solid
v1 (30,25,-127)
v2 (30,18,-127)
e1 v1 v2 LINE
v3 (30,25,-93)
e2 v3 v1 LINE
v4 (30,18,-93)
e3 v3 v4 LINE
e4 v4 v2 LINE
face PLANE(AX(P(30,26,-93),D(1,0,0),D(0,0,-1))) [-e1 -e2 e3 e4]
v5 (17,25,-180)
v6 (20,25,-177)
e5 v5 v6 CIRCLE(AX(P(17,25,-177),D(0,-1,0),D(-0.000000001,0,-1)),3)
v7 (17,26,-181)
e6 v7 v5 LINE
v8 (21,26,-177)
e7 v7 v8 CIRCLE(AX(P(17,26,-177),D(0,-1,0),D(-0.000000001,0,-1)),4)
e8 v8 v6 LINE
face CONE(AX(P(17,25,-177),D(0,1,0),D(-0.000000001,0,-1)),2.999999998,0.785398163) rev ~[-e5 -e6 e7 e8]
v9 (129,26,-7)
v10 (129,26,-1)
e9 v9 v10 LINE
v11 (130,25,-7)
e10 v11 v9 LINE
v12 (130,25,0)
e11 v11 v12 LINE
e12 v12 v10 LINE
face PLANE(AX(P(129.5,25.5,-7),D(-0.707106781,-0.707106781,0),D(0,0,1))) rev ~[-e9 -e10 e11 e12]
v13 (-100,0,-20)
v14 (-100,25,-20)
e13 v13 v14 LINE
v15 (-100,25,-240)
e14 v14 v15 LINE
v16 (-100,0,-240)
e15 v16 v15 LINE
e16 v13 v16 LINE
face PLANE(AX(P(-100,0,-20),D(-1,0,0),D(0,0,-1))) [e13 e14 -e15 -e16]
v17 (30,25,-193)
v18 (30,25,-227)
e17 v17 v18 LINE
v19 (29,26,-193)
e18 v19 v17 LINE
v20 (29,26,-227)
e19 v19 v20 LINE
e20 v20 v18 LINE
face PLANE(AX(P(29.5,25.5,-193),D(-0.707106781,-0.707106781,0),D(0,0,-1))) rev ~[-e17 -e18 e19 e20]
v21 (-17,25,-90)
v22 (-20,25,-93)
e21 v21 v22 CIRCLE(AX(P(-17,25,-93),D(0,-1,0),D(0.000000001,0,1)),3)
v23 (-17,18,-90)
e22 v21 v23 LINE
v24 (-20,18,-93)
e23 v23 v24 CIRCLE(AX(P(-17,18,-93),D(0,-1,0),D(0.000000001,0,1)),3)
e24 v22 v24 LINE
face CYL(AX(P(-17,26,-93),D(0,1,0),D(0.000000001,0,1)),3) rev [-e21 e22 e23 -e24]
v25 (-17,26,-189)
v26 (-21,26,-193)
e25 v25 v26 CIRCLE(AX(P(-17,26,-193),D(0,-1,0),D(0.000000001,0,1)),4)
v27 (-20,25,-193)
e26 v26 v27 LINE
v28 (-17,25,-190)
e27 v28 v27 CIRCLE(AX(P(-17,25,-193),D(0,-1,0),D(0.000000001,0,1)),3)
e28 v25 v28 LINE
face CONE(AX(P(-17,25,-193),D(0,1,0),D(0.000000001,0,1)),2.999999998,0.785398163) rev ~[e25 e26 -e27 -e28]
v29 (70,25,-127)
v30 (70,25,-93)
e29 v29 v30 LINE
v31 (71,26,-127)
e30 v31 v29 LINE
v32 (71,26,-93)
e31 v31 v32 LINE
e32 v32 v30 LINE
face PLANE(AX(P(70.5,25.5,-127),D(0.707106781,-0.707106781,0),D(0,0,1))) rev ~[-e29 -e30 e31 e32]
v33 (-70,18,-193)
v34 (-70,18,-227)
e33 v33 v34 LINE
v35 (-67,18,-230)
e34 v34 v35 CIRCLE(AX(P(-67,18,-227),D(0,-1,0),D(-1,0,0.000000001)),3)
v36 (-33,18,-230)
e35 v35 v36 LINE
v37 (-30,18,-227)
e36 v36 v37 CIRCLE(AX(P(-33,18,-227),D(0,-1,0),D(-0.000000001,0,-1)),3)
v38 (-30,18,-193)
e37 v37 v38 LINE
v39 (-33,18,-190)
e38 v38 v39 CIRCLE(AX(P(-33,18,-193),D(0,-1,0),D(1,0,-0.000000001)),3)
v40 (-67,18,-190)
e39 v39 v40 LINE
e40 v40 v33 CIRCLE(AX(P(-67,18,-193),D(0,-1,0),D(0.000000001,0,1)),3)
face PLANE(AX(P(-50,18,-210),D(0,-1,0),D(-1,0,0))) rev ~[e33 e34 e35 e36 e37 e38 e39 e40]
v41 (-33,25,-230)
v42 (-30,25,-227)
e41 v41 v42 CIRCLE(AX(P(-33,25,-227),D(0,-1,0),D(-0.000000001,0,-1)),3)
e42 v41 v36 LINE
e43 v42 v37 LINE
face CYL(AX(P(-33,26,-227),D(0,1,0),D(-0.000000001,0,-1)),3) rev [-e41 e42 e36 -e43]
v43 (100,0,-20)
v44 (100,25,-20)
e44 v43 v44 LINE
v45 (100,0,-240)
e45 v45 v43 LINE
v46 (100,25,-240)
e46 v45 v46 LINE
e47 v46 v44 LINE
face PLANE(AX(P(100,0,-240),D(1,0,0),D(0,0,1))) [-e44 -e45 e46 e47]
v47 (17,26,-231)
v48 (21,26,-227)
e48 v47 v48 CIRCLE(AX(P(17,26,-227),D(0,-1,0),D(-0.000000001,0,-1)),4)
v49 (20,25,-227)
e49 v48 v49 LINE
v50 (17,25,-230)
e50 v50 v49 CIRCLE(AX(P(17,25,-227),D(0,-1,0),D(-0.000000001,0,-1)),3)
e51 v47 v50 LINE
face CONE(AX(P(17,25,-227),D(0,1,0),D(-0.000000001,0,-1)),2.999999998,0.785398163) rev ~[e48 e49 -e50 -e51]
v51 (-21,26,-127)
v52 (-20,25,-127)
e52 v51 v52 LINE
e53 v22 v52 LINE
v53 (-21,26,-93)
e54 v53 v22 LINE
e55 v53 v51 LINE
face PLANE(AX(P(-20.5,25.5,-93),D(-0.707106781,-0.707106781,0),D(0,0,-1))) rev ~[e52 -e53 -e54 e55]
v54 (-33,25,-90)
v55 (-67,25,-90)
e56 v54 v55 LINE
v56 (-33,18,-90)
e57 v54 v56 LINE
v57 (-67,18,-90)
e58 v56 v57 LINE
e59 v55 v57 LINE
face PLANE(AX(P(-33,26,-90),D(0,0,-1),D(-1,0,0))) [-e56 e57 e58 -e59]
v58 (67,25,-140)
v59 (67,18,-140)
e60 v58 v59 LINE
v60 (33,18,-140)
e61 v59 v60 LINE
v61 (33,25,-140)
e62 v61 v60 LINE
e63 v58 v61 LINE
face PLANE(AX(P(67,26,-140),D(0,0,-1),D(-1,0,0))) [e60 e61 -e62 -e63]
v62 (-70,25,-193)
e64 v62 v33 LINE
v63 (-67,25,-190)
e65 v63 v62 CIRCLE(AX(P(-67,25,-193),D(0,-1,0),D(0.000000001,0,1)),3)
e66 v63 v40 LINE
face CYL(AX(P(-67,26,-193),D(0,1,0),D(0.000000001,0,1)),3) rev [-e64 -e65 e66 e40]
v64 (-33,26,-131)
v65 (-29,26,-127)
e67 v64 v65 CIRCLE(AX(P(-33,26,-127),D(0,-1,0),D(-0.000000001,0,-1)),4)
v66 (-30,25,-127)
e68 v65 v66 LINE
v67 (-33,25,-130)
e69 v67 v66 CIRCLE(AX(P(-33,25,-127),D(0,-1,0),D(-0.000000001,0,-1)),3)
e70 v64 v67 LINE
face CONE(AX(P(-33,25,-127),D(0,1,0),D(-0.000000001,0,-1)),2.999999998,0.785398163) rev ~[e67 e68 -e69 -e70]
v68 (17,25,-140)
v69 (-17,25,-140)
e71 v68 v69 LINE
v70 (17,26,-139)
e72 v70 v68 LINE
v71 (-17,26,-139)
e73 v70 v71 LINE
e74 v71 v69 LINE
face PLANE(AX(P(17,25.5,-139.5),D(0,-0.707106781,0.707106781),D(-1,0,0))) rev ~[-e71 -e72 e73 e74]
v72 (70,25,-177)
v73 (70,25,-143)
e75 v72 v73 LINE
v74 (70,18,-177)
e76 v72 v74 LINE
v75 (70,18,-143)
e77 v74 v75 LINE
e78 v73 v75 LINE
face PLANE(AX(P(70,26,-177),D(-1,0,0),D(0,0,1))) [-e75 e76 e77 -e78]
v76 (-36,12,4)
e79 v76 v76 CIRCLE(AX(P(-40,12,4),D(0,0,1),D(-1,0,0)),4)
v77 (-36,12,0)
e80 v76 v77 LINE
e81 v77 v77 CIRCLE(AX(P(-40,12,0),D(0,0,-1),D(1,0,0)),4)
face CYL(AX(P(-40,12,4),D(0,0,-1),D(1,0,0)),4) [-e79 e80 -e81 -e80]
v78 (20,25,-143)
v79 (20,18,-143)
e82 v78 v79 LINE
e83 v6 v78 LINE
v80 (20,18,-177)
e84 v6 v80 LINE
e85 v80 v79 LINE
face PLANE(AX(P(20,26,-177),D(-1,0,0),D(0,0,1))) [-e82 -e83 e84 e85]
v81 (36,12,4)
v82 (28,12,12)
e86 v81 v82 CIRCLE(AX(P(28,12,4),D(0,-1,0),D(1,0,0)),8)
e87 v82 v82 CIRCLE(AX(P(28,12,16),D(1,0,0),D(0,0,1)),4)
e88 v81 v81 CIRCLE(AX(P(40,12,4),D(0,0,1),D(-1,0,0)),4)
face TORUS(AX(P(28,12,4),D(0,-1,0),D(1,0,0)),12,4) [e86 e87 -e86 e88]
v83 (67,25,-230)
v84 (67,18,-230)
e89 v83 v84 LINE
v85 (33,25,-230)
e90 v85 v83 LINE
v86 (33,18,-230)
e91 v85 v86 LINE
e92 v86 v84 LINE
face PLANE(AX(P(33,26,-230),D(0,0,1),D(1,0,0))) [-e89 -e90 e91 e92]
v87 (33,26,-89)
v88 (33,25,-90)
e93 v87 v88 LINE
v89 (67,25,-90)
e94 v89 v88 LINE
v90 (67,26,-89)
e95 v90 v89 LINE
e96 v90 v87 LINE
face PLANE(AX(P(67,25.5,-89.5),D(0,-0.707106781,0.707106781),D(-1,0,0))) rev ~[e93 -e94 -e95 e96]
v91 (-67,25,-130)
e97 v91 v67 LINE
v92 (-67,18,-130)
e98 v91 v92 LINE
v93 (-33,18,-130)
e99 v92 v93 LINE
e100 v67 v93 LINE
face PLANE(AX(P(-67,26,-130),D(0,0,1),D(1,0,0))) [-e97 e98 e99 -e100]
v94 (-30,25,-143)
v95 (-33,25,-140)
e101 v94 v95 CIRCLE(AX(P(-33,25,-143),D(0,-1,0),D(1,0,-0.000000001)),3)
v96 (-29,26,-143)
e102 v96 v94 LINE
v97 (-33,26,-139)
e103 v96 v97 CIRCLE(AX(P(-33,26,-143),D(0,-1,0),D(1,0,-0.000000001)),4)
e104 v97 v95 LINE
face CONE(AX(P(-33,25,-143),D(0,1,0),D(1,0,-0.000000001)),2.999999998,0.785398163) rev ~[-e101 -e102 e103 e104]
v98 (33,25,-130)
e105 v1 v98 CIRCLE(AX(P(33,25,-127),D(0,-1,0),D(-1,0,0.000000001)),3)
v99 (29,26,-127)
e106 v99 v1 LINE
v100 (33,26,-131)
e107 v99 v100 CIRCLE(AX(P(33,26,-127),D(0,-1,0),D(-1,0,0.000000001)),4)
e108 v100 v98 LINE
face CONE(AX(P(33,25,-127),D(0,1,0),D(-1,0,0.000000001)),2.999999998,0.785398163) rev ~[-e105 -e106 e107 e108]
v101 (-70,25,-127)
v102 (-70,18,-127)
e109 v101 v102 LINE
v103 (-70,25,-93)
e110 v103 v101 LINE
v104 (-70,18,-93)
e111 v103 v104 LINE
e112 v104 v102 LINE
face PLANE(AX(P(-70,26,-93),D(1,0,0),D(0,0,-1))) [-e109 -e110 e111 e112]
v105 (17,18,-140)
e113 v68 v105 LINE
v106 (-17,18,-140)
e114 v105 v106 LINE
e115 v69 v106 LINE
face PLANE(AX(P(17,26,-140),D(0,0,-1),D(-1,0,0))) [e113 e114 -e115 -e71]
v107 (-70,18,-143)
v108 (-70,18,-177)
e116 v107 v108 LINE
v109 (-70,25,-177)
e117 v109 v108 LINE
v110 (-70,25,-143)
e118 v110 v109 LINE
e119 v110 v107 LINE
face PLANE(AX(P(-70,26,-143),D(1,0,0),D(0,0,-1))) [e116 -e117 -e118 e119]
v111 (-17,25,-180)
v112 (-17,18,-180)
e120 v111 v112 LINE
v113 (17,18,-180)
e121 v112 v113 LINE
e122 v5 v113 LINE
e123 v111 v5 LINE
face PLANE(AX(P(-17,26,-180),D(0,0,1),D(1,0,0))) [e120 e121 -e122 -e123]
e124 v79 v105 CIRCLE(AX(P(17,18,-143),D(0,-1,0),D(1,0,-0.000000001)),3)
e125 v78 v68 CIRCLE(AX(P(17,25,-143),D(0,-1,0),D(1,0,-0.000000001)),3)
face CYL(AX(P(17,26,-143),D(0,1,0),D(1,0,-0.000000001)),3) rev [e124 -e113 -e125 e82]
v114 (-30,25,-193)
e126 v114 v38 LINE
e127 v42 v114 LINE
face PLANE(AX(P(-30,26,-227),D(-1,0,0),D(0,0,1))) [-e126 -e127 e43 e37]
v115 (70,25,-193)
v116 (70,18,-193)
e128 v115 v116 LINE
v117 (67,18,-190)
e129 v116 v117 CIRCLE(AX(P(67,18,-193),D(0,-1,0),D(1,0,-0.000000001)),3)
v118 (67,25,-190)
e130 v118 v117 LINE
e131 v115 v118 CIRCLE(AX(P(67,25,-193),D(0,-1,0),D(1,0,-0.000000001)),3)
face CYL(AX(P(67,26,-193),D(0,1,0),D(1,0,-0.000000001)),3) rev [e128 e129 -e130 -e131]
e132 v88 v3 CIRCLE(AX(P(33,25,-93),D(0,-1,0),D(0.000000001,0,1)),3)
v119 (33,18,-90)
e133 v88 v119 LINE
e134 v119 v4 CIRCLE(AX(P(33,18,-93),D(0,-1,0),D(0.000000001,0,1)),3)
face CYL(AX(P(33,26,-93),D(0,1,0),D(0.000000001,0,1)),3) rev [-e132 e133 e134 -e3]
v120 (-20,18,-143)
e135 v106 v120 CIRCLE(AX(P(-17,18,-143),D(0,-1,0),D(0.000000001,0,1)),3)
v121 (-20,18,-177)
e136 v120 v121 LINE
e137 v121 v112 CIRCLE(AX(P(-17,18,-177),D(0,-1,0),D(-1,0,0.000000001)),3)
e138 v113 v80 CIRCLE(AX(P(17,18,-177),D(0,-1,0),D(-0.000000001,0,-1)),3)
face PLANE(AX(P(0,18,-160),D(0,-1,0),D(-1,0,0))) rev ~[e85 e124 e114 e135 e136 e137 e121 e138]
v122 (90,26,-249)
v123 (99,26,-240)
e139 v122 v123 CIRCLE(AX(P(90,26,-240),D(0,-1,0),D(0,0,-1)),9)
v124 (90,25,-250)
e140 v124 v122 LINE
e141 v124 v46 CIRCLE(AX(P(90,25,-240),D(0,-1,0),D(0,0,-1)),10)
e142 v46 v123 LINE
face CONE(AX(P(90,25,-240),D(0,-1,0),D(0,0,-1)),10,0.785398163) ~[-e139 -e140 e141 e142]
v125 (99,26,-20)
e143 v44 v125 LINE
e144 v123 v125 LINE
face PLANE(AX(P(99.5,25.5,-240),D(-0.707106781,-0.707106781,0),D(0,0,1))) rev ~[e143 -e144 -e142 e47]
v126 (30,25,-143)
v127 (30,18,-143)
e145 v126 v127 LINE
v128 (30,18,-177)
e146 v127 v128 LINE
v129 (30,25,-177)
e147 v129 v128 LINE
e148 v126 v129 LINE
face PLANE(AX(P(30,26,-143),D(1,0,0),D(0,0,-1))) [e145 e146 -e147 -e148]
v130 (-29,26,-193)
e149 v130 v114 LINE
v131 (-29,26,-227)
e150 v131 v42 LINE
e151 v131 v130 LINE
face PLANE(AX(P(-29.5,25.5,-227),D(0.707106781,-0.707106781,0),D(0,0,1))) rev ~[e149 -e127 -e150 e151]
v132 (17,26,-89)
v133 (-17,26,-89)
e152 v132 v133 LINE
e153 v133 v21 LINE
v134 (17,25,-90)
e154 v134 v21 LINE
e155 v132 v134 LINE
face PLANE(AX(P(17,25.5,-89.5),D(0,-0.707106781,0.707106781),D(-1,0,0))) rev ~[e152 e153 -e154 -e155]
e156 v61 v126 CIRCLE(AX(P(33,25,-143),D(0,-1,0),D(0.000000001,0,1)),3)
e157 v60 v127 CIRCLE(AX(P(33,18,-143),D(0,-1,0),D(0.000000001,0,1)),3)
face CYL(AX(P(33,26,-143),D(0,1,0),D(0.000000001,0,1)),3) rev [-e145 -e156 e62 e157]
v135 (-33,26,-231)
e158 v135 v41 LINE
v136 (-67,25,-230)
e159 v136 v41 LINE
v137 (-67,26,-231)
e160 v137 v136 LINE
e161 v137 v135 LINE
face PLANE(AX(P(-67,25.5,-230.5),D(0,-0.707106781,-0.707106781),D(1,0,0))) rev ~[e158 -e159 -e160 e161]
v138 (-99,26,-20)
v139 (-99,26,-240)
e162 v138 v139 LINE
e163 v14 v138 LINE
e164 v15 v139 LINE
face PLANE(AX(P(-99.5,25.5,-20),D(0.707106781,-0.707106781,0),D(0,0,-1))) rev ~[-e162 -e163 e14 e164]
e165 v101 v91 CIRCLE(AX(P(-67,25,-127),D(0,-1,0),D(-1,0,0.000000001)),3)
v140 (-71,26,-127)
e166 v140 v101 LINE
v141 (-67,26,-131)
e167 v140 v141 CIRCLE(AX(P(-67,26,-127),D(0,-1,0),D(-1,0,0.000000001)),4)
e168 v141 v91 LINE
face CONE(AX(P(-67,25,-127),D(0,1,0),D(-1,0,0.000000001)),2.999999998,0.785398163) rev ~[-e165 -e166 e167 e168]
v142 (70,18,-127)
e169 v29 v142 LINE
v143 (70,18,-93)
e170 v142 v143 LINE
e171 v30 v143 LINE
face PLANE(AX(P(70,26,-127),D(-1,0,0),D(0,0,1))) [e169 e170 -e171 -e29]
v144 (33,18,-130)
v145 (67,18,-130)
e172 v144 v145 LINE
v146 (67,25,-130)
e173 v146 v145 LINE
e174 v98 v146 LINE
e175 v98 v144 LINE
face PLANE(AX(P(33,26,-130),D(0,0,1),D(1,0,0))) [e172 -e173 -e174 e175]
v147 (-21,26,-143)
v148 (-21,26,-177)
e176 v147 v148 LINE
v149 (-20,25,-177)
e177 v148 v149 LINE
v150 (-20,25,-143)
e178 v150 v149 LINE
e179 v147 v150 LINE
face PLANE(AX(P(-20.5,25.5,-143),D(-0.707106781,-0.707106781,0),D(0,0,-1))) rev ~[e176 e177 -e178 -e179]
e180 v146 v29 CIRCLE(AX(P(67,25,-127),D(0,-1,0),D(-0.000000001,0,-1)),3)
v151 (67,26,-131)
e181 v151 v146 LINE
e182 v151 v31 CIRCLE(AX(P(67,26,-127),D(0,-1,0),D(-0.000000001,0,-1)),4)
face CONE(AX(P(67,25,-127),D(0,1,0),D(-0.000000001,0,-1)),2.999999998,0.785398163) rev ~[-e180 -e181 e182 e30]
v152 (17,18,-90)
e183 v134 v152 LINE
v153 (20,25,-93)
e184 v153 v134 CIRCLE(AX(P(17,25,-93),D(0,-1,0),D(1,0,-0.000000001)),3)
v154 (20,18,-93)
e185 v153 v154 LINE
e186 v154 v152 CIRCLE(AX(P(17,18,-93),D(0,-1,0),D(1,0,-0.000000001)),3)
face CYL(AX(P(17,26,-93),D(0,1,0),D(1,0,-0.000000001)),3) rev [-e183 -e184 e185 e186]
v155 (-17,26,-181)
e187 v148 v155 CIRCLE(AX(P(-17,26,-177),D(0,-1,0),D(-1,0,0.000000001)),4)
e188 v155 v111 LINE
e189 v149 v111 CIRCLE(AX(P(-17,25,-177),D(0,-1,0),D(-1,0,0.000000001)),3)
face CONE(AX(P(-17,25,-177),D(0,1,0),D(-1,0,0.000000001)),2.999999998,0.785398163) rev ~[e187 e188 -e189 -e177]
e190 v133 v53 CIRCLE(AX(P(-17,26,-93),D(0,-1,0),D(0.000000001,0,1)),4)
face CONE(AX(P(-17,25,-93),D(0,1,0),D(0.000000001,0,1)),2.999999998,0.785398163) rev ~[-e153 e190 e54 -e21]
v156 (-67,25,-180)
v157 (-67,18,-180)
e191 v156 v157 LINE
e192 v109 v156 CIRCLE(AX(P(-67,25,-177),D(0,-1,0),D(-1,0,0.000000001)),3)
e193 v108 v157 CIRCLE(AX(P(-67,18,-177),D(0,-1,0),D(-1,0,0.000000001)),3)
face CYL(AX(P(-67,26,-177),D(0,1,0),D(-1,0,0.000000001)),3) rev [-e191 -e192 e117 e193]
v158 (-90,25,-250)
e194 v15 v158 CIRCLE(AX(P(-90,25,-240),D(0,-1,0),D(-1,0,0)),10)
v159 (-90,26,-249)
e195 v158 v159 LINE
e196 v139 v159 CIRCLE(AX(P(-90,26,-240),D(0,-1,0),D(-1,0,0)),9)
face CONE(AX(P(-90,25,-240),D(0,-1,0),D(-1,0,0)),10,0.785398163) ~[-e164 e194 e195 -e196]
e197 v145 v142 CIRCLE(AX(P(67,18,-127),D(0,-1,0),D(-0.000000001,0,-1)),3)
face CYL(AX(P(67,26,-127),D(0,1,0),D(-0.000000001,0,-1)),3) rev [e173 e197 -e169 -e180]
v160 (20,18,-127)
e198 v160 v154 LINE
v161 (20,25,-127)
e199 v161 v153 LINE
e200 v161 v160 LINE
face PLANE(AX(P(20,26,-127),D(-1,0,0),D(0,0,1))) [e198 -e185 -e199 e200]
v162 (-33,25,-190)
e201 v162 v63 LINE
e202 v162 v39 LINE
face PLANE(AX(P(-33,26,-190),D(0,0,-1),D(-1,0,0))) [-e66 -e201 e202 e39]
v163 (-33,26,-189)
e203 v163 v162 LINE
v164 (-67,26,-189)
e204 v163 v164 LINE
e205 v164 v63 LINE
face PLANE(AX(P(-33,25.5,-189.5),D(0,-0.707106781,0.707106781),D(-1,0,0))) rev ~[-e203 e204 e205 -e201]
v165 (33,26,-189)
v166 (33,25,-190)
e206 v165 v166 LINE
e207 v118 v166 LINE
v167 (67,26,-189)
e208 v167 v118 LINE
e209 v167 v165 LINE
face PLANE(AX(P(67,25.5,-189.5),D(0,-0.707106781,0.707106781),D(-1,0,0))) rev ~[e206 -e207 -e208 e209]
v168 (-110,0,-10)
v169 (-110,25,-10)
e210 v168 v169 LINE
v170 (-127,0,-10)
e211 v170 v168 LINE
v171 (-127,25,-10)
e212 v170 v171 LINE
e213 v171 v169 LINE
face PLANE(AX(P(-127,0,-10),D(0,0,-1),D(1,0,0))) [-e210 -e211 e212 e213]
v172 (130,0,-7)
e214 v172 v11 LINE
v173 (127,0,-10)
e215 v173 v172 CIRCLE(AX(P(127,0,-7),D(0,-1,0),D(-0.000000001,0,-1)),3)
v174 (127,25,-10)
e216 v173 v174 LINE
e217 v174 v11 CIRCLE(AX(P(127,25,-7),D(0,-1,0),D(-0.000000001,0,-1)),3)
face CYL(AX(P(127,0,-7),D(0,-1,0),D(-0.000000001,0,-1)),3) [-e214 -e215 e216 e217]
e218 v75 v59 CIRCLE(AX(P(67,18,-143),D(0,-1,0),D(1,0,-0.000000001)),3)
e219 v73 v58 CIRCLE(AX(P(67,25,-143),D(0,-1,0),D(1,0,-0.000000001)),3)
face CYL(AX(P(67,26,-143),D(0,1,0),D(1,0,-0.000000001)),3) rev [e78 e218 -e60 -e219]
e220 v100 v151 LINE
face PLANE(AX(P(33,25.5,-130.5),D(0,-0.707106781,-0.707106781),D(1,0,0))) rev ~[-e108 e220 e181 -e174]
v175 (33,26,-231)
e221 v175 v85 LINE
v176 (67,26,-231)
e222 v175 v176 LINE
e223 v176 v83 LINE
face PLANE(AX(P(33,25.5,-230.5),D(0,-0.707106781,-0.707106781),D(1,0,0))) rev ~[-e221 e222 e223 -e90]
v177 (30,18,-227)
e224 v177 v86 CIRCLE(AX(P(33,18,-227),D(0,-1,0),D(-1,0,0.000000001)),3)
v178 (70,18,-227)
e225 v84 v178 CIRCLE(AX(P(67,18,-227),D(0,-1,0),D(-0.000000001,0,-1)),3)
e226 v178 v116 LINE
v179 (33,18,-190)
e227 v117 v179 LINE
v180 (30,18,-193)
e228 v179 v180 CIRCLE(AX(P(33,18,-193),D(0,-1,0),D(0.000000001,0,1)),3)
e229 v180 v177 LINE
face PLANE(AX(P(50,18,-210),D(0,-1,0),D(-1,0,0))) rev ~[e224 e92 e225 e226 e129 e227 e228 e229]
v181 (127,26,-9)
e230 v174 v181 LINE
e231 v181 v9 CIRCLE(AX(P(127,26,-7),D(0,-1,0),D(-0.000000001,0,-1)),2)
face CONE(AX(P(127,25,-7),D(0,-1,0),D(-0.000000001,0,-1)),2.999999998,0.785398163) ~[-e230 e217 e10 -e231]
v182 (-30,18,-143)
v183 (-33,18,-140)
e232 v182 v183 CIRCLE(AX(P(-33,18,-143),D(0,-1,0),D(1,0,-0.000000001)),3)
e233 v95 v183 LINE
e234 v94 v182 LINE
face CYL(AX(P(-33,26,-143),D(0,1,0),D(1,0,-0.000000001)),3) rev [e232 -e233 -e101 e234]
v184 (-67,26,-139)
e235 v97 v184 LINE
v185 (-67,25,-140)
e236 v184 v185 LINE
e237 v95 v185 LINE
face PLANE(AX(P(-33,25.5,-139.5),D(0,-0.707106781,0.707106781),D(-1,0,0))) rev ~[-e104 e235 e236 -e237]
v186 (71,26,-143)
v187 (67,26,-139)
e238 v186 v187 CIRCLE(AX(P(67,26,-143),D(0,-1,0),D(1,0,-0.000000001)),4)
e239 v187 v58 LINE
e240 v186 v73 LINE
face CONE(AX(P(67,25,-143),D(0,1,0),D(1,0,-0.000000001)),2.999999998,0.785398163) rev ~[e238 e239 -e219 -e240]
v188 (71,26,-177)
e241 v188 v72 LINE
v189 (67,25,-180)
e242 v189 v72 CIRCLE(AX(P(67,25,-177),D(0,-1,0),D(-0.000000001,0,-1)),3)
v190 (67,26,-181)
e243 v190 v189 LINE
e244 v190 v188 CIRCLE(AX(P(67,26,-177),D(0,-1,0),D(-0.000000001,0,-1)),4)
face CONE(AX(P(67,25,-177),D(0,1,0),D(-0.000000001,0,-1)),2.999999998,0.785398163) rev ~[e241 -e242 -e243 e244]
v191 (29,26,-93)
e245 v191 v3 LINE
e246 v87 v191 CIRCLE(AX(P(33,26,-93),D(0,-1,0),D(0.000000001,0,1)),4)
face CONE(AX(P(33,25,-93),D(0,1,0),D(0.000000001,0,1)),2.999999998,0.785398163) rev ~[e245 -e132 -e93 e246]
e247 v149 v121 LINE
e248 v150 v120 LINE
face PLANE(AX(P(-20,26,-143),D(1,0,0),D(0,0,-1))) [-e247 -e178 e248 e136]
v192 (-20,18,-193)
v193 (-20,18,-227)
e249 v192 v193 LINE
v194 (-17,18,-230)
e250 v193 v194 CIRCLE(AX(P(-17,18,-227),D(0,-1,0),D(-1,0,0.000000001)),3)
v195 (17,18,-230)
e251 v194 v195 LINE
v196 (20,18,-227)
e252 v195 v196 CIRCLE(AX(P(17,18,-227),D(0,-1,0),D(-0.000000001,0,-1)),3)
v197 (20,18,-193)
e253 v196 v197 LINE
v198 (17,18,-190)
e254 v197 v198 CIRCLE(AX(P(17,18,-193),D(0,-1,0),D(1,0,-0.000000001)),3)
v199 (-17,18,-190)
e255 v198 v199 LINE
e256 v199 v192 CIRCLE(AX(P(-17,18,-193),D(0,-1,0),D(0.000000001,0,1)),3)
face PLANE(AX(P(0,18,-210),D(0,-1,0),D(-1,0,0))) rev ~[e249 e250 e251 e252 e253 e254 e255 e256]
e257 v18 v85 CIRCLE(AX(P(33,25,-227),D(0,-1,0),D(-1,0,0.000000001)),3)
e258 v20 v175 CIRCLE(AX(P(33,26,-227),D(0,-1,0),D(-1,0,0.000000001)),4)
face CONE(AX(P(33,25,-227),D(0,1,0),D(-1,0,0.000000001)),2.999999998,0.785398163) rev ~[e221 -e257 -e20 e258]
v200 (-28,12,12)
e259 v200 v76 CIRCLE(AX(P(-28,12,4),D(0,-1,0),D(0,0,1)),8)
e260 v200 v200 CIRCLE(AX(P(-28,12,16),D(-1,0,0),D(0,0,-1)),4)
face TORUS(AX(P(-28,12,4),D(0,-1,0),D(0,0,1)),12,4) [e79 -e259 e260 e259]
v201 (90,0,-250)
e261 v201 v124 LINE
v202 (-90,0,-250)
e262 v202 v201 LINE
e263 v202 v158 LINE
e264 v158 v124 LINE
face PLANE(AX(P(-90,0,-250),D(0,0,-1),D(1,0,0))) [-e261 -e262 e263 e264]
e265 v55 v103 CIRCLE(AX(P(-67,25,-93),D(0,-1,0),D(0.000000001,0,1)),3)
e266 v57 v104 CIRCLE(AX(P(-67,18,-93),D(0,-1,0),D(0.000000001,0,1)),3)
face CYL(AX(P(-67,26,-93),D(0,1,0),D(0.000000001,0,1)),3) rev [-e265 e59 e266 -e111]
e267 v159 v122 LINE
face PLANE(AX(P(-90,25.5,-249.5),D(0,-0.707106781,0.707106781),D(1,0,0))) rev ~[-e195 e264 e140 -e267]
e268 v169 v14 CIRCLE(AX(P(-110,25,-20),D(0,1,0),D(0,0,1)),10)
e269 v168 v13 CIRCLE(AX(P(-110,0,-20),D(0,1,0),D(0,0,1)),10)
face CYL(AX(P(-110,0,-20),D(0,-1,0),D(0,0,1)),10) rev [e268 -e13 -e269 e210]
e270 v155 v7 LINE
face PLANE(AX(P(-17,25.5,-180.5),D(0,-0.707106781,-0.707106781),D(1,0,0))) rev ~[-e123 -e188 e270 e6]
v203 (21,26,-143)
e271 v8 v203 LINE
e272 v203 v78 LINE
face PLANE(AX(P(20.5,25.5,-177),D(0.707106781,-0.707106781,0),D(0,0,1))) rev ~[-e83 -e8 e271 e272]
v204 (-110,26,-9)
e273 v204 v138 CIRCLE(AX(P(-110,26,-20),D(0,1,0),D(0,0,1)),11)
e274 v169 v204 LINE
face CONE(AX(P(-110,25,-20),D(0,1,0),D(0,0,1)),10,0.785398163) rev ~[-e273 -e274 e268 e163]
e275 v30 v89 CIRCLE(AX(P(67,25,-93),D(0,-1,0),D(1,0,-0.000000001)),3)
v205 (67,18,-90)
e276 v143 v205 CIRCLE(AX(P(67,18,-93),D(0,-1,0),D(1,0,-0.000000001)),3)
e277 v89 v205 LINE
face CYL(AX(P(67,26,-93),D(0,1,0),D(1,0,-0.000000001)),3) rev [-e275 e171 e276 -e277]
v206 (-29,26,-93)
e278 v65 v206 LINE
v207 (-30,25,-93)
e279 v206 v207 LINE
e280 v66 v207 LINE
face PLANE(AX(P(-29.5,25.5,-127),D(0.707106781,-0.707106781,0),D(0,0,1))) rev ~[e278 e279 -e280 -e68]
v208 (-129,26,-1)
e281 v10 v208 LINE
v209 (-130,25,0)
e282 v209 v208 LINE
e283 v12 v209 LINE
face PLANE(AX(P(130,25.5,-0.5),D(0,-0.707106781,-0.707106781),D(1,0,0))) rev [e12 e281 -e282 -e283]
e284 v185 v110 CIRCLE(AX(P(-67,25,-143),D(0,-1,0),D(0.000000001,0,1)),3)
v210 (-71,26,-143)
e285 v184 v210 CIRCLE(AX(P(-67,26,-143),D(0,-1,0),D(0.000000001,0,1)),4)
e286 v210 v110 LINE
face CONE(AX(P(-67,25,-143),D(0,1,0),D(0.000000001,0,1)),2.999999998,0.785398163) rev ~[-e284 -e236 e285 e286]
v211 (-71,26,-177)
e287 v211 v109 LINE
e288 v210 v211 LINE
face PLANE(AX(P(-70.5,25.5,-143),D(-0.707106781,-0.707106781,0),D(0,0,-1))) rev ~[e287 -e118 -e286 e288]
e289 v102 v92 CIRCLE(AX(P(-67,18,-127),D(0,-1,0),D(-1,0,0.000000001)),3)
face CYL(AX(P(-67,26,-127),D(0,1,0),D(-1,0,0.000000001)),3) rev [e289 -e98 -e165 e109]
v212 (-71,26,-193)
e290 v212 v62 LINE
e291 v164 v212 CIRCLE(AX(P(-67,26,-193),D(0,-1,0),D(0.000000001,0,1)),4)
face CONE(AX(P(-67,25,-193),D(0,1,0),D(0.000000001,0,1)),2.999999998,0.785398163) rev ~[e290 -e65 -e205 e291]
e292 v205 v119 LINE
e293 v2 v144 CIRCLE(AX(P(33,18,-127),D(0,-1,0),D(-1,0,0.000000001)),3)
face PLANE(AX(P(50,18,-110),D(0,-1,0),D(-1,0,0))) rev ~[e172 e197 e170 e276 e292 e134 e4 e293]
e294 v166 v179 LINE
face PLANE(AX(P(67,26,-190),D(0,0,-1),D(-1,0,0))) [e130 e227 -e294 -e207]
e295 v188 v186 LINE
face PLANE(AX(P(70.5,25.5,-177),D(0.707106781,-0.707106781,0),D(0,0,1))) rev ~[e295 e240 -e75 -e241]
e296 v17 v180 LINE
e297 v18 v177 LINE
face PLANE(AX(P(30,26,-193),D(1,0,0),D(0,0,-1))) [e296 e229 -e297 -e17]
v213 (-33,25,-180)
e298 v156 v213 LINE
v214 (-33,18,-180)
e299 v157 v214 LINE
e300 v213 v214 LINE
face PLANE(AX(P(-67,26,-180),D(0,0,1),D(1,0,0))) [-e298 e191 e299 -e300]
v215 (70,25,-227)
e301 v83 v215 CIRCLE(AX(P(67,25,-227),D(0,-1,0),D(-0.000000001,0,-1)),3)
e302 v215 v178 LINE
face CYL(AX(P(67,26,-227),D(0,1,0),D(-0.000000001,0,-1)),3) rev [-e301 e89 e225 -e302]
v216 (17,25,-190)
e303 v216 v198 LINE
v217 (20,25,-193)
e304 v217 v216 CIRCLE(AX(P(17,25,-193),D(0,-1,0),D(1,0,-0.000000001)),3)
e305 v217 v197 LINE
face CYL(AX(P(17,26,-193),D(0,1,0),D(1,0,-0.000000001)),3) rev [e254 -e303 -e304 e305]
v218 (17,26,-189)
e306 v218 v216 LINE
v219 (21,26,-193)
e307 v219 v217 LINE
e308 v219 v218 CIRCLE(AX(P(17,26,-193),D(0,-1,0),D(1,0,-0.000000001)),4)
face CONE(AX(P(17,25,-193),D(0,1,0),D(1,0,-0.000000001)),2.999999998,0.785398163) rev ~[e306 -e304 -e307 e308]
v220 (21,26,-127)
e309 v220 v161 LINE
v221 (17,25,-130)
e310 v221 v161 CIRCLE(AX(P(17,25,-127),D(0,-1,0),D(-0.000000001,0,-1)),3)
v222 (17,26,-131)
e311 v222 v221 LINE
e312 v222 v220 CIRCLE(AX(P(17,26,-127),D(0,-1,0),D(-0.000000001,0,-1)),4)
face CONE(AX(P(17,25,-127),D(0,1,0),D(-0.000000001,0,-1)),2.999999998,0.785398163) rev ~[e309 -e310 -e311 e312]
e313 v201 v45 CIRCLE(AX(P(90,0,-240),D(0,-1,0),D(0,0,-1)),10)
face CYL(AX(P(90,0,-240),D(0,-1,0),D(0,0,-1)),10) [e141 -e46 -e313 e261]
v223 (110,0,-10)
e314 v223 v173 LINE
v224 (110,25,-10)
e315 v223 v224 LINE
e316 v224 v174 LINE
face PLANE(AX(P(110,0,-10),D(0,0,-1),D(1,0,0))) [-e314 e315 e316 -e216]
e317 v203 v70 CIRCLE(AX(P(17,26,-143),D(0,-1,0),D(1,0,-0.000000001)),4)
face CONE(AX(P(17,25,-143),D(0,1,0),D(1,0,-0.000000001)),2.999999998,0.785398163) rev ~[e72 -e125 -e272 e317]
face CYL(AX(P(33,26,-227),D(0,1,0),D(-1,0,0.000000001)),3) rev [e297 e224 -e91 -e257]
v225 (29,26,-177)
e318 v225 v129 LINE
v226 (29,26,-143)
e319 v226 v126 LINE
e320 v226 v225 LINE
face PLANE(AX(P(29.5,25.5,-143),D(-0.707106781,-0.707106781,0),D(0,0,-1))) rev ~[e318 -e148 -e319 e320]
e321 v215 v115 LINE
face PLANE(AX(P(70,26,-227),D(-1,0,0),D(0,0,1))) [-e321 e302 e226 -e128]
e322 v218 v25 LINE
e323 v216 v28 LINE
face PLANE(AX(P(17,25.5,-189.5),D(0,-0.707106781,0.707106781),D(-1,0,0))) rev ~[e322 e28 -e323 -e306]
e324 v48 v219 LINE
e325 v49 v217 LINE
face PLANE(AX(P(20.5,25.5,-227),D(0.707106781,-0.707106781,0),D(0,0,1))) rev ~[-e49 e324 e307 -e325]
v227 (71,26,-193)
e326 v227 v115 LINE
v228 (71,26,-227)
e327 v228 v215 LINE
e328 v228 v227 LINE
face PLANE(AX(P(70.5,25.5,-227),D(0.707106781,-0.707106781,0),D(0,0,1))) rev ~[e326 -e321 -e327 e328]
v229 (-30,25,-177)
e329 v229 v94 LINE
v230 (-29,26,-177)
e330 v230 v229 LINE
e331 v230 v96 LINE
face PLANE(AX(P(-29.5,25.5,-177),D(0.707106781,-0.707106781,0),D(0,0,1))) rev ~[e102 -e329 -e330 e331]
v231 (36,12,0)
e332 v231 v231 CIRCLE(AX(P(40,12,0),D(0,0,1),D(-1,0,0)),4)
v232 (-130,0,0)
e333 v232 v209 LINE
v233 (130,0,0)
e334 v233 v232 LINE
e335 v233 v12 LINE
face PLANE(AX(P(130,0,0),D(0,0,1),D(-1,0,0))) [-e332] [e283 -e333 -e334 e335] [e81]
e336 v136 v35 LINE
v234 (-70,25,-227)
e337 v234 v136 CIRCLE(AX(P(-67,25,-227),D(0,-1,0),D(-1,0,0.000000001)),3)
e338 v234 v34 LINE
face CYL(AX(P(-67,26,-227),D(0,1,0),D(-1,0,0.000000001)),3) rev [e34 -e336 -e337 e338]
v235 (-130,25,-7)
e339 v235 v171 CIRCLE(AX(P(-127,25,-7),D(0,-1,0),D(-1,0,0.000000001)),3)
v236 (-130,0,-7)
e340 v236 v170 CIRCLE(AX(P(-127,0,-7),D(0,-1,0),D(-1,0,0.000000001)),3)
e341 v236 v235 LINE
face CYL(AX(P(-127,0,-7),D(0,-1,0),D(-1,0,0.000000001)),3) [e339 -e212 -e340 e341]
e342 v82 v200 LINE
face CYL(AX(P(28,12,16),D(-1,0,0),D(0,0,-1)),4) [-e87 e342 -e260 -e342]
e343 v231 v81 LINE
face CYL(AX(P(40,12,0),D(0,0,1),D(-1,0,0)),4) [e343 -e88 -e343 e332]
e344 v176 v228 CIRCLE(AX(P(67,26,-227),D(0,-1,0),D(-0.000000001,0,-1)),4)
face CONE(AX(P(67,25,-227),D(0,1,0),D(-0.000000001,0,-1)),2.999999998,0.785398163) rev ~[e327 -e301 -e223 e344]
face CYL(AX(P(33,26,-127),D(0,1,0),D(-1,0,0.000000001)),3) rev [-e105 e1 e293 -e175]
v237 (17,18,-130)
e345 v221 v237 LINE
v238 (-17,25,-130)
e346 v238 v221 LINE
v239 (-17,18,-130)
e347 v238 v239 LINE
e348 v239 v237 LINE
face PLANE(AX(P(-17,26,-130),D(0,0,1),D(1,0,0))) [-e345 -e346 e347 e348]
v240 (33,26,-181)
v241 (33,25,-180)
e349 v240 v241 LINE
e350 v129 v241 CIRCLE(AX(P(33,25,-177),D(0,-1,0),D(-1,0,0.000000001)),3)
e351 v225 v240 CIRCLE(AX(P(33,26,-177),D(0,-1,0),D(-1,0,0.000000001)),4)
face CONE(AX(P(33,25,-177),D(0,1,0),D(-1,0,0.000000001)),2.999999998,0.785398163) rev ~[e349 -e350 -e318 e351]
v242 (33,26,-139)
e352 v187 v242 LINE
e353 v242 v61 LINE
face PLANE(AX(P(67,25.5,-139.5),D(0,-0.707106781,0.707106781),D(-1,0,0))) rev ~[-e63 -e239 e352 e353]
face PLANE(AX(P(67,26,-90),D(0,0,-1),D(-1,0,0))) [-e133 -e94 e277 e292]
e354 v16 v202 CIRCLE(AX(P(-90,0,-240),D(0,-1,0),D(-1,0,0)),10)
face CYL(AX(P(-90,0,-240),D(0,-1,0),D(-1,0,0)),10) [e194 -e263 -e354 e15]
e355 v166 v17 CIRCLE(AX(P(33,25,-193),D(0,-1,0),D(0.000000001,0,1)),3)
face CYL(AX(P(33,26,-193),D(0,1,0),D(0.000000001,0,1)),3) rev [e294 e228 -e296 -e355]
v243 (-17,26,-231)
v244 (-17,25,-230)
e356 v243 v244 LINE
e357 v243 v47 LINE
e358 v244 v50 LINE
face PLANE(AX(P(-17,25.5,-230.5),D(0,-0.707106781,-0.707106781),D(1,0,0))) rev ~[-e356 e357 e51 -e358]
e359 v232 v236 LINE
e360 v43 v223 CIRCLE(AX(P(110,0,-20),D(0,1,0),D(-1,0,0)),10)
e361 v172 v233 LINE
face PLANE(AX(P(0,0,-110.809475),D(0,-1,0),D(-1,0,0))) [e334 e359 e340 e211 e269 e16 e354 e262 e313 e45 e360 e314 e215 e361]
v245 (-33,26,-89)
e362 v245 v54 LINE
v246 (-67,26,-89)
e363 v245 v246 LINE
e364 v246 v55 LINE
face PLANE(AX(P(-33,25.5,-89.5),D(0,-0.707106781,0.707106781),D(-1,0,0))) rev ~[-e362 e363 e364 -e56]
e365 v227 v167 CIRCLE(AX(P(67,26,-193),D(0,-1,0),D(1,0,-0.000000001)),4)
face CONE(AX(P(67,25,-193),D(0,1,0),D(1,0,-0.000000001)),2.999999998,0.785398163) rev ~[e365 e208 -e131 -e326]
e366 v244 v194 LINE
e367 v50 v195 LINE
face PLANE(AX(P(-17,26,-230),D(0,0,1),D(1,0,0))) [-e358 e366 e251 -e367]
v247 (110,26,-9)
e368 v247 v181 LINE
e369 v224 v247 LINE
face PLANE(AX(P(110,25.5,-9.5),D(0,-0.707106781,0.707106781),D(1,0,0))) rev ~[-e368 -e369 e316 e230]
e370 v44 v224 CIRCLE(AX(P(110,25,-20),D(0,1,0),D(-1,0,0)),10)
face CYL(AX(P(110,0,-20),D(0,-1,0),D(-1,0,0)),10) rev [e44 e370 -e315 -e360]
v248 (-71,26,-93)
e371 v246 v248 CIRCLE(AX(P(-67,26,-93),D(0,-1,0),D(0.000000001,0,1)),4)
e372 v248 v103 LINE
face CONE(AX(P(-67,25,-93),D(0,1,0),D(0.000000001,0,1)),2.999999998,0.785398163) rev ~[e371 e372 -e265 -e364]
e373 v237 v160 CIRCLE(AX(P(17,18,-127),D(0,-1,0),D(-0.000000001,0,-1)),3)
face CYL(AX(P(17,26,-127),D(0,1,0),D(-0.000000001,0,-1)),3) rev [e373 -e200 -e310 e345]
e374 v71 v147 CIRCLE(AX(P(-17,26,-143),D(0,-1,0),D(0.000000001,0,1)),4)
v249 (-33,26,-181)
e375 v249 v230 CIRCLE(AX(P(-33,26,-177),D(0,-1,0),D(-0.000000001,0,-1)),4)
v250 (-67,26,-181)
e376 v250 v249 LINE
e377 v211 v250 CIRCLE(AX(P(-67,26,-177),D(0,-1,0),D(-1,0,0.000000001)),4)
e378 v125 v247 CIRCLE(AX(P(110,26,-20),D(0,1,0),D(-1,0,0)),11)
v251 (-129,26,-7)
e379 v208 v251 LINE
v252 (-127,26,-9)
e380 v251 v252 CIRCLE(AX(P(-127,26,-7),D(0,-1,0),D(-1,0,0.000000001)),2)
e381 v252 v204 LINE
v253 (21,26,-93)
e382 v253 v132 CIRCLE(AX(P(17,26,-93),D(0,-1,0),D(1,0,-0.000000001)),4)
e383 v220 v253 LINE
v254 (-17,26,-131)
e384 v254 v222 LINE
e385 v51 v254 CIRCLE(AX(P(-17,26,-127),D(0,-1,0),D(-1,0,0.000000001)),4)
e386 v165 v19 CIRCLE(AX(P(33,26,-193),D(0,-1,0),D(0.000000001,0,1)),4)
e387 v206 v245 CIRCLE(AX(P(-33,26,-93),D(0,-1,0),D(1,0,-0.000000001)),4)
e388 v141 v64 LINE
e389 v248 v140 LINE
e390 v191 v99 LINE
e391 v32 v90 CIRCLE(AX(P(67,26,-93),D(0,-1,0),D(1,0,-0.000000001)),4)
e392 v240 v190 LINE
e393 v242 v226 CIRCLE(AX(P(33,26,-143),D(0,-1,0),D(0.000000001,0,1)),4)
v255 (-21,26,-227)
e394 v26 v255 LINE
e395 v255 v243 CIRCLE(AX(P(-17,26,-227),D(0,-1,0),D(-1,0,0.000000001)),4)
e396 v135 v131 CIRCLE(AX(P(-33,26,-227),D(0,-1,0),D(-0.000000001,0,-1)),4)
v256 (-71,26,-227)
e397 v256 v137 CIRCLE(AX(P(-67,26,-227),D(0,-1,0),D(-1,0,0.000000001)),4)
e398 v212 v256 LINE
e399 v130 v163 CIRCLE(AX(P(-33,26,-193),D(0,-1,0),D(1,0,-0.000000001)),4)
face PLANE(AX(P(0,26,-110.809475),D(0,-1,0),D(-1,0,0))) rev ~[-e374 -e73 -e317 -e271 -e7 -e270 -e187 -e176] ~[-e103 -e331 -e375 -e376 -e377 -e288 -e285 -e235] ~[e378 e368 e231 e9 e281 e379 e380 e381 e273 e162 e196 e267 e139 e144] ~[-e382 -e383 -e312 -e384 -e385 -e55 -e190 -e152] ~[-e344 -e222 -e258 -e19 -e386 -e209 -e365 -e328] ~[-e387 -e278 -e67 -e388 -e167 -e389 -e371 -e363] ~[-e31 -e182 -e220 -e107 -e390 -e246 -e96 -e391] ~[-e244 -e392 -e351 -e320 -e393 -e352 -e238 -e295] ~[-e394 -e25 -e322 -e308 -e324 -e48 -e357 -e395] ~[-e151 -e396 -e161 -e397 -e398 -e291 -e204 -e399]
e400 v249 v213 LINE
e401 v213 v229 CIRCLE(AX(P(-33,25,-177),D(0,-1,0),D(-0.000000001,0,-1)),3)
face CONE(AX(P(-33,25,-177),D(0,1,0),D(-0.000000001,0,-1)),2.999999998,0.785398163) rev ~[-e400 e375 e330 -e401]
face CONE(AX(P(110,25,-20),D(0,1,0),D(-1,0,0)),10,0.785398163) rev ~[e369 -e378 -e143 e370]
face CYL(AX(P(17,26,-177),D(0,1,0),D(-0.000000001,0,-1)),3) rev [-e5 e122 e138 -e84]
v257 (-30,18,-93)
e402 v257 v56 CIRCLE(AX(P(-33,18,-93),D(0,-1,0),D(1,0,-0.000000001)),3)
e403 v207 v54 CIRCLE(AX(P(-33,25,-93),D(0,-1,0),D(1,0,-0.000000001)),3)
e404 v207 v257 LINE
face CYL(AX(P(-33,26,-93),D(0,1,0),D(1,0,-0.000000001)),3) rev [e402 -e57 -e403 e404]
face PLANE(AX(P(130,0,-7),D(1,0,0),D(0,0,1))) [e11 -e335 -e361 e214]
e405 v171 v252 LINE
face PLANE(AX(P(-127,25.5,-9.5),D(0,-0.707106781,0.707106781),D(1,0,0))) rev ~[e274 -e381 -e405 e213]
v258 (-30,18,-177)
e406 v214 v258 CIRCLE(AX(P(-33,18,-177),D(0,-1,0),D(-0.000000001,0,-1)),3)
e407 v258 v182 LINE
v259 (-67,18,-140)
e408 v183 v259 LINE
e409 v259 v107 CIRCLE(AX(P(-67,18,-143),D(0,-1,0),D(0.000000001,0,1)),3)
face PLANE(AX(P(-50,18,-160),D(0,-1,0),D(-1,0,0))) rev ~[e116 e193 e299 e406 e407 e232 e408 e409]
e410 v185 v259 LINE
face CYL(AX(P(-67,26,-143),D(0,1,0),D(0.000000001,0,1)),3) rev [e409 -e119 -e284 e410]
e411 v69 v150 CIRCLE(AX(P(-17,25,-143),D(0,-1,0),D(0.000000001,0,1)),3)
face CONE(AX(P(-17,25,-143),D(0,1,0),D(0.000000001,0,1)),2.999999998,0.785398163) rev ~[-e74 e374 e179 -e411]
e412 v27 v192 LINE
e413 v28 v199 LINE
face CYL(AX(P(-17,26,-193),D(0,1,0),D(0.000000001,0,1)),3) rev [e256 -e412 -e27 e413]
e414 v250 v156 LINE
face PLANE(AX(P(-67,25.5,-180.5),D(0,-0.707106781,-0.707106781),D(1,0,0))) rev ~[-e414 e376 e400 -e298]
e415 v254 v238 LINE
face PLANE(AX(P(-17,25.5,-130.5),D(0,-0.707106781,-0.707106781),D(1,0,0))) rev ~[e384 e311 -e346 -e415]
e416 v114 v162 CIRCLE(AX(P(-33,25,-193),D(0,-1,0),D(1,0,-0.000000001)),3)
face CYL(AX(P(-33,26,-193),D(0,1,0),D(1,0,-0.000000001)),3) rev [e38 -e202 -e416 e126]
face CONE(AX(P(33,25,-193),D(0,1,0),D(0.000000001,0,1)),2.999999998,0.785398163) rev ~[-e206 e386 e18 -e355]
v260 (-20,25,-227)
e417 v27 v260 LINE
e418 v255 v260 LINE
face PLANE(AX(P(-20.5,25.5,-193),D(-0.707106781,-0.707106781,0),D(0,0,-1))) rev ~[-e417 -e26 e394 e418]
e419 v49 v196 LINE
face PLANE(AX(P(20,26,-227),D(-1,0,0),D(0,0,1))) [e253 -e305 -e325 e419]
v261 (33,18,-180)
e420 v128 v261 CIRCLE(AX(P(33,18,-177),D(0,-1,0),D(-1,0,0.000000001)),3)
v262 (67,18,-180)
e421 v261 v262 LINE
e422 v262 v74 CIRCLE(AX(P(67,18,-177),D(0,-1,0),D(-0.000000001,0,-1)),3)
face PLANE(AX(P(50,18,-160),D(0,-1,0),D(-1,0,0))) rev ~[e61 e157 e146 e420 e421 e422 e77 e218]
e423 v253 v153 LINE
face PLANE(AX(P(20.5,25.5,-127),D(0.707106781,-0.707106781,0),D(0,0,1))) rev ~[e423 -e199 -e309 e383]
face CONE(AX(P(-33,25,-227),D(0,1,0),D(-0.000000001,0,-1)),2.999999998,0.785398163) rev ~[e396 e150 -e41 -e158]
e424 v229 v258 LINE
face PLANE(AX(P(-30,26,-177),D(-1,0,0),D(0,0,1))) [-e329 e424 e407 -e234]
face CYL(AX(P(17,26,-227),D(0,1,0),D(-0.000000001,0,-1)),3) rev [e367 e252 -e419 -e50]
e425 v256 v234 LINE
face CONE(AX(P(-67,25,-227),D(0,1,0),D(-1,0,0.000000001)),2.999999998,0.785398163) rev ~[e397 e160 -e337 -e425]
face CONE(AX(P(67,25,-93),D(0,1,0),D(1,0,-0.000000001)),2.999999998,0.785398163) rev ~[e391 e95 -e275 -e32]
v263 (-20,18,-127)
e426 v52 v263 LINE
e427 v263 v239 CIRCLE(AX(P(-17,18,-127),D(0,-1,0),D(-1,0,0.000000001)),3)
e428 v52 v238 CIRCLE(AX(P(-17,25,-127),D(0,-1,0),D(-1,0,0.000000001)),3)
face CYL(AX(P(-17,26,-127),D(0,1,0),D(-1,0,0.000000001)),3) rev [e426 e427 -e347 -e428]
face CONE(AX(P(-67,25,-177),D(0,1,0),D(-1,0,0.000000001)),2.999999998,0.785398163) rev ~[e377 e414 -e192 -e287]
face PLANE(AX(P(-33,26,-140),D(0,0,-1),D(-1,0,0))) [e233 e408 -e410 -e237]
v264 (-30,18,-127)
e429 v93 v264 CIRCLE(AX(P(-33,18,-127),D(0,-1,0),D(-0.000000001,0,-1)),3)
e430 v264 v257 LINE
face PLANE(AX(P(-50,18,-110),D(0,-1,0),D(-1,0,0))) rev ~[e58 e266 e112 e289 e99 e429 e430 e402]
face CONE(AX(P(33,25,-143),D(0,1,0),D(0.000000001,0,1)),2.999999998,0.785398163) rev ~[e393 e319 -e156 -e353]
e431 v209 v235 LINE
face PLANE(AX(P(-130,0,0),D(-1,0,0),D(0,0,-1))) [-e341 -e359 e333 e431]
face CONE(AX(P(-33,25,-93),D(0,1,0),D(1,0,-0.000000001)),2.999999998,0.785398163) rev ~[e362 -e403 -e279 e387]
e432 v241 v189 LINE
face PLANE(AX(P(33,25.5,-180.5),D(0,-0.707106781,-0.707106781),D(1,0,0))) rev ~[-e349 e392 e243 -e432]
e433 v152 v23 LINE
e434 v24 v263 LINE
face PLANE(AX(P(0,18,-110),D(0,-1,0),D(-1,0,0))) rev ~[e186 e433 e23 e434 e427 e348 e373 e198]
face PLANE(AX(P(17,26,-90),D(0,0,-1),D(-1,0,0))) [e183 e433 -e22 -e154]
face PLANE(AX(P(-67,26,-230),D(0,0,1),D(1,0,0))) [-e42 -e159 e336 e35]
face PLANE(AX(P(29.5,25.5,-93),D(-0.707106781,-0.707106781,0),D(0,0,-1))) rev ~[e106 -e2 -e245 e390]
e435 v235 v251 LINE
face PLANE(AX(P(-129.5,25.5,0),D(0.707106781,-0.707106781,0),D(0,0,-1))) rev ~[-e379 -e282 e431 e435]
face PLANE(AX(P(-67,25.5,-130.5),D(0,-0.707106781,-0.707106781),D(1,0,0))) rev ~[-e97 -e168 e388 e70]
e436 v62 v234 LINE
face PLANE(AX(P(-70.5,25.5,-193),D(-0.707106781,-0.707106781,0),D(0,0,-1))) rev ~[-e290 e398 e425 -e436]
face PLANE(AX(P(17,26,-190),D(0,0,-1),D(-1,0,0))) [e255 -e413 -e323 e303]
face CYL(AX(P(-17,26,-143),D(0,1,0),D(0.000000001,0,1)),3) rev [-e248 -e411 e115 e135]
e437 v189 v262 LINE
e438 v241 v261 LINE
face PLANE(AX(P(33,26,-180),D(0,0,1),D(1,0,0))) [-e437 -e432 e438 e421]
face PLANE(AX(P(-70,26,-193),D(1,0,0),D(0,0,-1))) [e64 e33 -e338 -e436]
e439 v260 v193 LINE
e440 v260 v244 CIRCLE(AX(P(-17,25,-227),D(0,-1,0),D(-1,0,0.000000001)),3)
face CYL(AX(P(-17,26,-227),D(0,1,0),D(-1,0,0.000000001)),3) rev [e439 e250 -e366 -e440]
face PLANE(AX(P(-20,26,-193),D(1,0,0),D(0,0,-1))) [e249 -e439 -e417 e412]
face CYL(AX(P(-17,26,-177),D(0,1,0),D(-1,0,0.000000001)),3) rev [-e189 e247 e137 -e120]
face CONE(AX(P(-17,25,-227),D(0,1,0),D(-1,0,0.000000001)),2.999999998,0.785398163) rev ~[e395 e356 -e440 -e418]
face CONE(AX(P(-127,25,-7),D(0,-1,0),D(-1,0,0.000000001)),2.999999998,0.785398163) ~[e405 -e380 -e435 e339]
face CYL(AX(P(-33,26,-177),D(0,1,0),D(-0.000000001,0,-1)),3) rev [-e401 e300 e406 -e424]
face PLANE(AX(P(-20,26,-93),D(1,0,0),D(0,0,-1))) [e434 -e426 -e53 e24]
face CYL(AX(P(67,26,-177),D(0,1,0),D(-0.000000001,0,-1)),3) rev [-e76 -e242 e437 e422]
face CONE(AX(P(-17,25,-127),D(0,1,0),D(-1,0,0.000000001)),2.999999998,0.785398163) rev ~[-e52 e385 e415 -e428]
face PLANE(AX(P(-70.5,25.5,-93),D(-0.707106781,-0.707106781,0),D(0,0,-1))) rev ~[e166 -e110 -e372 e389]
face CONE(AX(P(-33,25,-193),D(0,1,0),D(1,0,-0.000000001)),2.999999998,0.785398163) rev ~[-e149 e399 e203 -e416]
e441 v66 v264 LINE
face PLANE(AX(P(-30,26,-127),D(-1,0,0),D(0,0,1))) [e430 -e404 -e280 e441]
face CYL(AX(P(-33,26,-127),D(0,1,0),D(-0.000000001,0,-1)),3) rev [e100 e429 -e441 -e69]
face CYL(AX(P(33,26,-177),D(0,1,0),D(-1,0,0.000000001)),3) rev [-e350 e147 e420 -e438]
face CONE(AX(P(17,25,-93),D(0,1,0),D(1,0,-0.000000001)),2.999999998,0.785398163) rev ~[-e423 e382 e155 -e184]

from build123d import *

# Parameters (mm, degrees)
EXTRUDE_1_DEPTH             = 26
CUT_EXTRUDE_3_DEPTH         = 8
PATTERN_LINEAR_3_COUNT      = 3
PATTERN_LINEAR_3_PITCH      = 50
PATTERN_LINEAR_3_COUNT_DIR2 = 3
PATTERN_LINEAR_3_PITCH_DIR2 = 50
CHAMFER_3_SIZE              = 1
SKETCH_5_R                  = 4


with BuildPart() as part:
    # 草图1 → 凸台-拉伸1 (new body)
    with BuildSketch(Plane(origin=(0, 0, 0), x_dir=(1, 0, 0), z_dir=(0, 1, 0))):
        with BuildLine():
            Line((-90, 250), (90, 250))
            ThreePointArc((90, 250), (97.071067812, 247.071067812), (100, 240))
            Line((100, 240), (100, 20))
            ThreePointArc((100, 20), (102.928932188, 12.928932188), (110, 10))
            Line((110, 10), (127, 10))
            ThreePointArc((127, 10), (129.121320344, 9.121320344), (130, 7))
            Line((130, 7), (130, 0))
            Line((130, 0), (-130, 0))
            Line((-130, 0), (-130, 7))
            ThreePointArc((-130, 7), (-129.121320344, 9.121320344), (-127, 10))
            Line((-127, 10), (-110, 10))
            ThreePointArc((-110, 10), (-102.928932188, 12.928932188), (-100, 20))
            Line((-100, 20), (-100, 240))
            ThreePointArc((-100, 240), (-97.071067812, 247.071067812), (-90, 250))
        make_face()
    extrude(amount=EXTRUDE_1_DEPTH)

    # 草图3 → 切除-拉伸3 (cut)
    with BuildSketch(Plane(origin=(0, 26, 0), x_dir=(1, 0, 0), z_dir=(0, 1, 0))):
        with BuildLine():
            Line((-67, 230), (-33, 230))
            ThreePointArc((-33, 230), (-30.878679656, 229.121320344), (-30, 227))
            Line((-30, 227), (-30, 193))
            ThreePointArc((-30, 193), (-30.878679656, 190.878679656), (-33, 190))
            Line((-33, 190), (-67, 190))
            ThreePointArc((-67, 190), (-69.121320344, 190.878679656), (-70, 193))
            Line((-70, 193), (-70, 227))
            ThreePointArc((-70, 227), (-69.121320344, 229.121320344), (-67, 230))
        make_face()
    cut_extrude_3 = extrude(amount=-CUT_EXTRUDE_3_DEPTH, mode=Mode.SUBTRACT)

    # 阵列(线性)3: Cut-Extrude 3 3 × 3
    with Locations(*[(i * PATTERN_LINEAR_3_PITCH, 0, j * PATTERN_LINEAR_3_PITCH_DIR2) for i in range(PATTERN_LINEAR_3_COUNT) for j in range(PATTERN_LINEAR_3_COUNT_DIR2) if (i, j) != (0, 0)]):
        add(cut_extrude_3, mode=Mode.SUBTRACT)

    # 倒角3
    chamfer_3_edges = [part.edges().sort_by_distance(p)[0] for p in [
        (-30.878679656, 26, -140.878679656),
        (-50, 26, -140),
        (-69.121320344, 26, -140.878679656),
        (-70, 26, -160),
        (-69.121320344, 26, -179.121320344),
        (-50, 26, -180),
        (-30.878679656, 26, -179.121320344),
        (-30, 26, -160),
        (19.121320344, 26, -140.878679656),
        (0, 26, -140),
        (-19.121320344, 26, -140.878679656),
        (-20, 26, -160),
        (-19.121320344, 26, -179.121320344),
        (0, 26, -180),
        (19.121320344, 26, -179.121320344),
        (20, 26, -160),
        (97.071067812, 26, -247.071067812),
        (69.121320344, 26, -140.878679656),
        (50, 26, -140),
        (30.878679656, 26, -140.878679656),
        (30, 26, -160),
        (30.878679656, 26, -179.121320344),
        (50, 26, -180),
        (69.121320344, 26, -179.121320344),
        (70, 26, -160),
        (-30.878679656, 26, -90.878679656),
        (-50, 26, -90),
        (-69.121320344, 26, -90.878679656),
        (-70, 26, -110),
        (-69.121320344, 26, -129.121320344),
        (-50, 26, -130),
        (-30.878679656, 26, -129.121320344),
        (-30, 26, -110),
        (0, 26, -250),
        (19.121320344, 26, -90.878679656),
        (0, 26, -90),
        (-19.121320344, 26, -90.878679656),
        (-20, 26, -110),
        (-19.121320344, 26, -129.121320344),
        (0, 26, -130),
        (19.121320344, 26, -129.121320344),
        (20, 26, -110),
        (69.121320344, 26, -90.878679656),
        (50, 26, -90),
        (30.878679656, 26, -90.878679656),
        (30, 26, -110),
        (30.878679656, 26, -129.121320344),
        (50, 26, -130),
        (69.121320344, 26, -129.121320344),
        (70, 26, -110),
        (-97.071067812, 26, -247.071067812),
        (-100, 26, -130),
        (-102.928932188, 26, -12.928932188),
        (-118.5, 26, -10),
        (-129.121320344, 26, -9.121320344),
        (-130, 26, -3.5),
        (0, 26, 0),
        (-30.878679656, 26, -190.878679656),
        (-30, 26, -210),
        (-30.878679656, 26, -229.121320344),
        (130, 26, -3.5),
        (-50, 26, -230),
        (-69.121320344, 26, -229.121320344),
        (-70, 26, -210),
        (-69.121320344, 26, -190.878679656),
        (102.928932188, 26, -12.928932188),
        (-50, 26, -190),
        (129.121320344, 26, -9.121320344),
        (118.5, 26, -10),
        (19.121320344, 26, -190.878679656),
        (20, 26, -210),
        (19.121320344, 26, -229.121320344),
        (0, 26, -230),
        (-19.121320344, 26, -229.121320344),
        (-20, 26, -210),
        (-19.121320344, 26, -190.878679656),
        (0, 26, -190),
        (69.121320344, 26, -190.878679656),
        (50, 26, -190),
        (30.878679656, 26, -190.878679656),
        (30, 26, -210),
        (30.878679656, 26, -229.121320344),
        (50, 26, -230),
        (69.121320344, 26, -229.121320344),
        (70, 26, -210),
        (100, 26, -130),
    ]]
    chamfer(chamfer_3_edges, length=CHAMFER_3_SIZE)

    # 扫描1: sweep along a path in 草图4
    with BuildLine(Plane(origin=(0, 12, 0), x_dir=(-1, 0, 0), z_dir=(0, -1, 0))) as sweep_1_path:
        Line((-40, 0), (-40, -4))
        ThreePointArc((-40, -4), (-36.485281374, -12.485281374), (-28, -16))
        Line((-28, -16), (28, -16))
        ThreePointArc((28, -16), (36.485281374, -12.485281374), (40, -4))
        Line((40, -4), (40, 0))
    # 草图5 → 扫描1 (sweep)
    with BuildSketch(Plane.XY):
        with Locations((-40, 12)):
            Circle(SKETCH_5_R)
    sweep(path=sweep_1_path.line)


solid = part.part
